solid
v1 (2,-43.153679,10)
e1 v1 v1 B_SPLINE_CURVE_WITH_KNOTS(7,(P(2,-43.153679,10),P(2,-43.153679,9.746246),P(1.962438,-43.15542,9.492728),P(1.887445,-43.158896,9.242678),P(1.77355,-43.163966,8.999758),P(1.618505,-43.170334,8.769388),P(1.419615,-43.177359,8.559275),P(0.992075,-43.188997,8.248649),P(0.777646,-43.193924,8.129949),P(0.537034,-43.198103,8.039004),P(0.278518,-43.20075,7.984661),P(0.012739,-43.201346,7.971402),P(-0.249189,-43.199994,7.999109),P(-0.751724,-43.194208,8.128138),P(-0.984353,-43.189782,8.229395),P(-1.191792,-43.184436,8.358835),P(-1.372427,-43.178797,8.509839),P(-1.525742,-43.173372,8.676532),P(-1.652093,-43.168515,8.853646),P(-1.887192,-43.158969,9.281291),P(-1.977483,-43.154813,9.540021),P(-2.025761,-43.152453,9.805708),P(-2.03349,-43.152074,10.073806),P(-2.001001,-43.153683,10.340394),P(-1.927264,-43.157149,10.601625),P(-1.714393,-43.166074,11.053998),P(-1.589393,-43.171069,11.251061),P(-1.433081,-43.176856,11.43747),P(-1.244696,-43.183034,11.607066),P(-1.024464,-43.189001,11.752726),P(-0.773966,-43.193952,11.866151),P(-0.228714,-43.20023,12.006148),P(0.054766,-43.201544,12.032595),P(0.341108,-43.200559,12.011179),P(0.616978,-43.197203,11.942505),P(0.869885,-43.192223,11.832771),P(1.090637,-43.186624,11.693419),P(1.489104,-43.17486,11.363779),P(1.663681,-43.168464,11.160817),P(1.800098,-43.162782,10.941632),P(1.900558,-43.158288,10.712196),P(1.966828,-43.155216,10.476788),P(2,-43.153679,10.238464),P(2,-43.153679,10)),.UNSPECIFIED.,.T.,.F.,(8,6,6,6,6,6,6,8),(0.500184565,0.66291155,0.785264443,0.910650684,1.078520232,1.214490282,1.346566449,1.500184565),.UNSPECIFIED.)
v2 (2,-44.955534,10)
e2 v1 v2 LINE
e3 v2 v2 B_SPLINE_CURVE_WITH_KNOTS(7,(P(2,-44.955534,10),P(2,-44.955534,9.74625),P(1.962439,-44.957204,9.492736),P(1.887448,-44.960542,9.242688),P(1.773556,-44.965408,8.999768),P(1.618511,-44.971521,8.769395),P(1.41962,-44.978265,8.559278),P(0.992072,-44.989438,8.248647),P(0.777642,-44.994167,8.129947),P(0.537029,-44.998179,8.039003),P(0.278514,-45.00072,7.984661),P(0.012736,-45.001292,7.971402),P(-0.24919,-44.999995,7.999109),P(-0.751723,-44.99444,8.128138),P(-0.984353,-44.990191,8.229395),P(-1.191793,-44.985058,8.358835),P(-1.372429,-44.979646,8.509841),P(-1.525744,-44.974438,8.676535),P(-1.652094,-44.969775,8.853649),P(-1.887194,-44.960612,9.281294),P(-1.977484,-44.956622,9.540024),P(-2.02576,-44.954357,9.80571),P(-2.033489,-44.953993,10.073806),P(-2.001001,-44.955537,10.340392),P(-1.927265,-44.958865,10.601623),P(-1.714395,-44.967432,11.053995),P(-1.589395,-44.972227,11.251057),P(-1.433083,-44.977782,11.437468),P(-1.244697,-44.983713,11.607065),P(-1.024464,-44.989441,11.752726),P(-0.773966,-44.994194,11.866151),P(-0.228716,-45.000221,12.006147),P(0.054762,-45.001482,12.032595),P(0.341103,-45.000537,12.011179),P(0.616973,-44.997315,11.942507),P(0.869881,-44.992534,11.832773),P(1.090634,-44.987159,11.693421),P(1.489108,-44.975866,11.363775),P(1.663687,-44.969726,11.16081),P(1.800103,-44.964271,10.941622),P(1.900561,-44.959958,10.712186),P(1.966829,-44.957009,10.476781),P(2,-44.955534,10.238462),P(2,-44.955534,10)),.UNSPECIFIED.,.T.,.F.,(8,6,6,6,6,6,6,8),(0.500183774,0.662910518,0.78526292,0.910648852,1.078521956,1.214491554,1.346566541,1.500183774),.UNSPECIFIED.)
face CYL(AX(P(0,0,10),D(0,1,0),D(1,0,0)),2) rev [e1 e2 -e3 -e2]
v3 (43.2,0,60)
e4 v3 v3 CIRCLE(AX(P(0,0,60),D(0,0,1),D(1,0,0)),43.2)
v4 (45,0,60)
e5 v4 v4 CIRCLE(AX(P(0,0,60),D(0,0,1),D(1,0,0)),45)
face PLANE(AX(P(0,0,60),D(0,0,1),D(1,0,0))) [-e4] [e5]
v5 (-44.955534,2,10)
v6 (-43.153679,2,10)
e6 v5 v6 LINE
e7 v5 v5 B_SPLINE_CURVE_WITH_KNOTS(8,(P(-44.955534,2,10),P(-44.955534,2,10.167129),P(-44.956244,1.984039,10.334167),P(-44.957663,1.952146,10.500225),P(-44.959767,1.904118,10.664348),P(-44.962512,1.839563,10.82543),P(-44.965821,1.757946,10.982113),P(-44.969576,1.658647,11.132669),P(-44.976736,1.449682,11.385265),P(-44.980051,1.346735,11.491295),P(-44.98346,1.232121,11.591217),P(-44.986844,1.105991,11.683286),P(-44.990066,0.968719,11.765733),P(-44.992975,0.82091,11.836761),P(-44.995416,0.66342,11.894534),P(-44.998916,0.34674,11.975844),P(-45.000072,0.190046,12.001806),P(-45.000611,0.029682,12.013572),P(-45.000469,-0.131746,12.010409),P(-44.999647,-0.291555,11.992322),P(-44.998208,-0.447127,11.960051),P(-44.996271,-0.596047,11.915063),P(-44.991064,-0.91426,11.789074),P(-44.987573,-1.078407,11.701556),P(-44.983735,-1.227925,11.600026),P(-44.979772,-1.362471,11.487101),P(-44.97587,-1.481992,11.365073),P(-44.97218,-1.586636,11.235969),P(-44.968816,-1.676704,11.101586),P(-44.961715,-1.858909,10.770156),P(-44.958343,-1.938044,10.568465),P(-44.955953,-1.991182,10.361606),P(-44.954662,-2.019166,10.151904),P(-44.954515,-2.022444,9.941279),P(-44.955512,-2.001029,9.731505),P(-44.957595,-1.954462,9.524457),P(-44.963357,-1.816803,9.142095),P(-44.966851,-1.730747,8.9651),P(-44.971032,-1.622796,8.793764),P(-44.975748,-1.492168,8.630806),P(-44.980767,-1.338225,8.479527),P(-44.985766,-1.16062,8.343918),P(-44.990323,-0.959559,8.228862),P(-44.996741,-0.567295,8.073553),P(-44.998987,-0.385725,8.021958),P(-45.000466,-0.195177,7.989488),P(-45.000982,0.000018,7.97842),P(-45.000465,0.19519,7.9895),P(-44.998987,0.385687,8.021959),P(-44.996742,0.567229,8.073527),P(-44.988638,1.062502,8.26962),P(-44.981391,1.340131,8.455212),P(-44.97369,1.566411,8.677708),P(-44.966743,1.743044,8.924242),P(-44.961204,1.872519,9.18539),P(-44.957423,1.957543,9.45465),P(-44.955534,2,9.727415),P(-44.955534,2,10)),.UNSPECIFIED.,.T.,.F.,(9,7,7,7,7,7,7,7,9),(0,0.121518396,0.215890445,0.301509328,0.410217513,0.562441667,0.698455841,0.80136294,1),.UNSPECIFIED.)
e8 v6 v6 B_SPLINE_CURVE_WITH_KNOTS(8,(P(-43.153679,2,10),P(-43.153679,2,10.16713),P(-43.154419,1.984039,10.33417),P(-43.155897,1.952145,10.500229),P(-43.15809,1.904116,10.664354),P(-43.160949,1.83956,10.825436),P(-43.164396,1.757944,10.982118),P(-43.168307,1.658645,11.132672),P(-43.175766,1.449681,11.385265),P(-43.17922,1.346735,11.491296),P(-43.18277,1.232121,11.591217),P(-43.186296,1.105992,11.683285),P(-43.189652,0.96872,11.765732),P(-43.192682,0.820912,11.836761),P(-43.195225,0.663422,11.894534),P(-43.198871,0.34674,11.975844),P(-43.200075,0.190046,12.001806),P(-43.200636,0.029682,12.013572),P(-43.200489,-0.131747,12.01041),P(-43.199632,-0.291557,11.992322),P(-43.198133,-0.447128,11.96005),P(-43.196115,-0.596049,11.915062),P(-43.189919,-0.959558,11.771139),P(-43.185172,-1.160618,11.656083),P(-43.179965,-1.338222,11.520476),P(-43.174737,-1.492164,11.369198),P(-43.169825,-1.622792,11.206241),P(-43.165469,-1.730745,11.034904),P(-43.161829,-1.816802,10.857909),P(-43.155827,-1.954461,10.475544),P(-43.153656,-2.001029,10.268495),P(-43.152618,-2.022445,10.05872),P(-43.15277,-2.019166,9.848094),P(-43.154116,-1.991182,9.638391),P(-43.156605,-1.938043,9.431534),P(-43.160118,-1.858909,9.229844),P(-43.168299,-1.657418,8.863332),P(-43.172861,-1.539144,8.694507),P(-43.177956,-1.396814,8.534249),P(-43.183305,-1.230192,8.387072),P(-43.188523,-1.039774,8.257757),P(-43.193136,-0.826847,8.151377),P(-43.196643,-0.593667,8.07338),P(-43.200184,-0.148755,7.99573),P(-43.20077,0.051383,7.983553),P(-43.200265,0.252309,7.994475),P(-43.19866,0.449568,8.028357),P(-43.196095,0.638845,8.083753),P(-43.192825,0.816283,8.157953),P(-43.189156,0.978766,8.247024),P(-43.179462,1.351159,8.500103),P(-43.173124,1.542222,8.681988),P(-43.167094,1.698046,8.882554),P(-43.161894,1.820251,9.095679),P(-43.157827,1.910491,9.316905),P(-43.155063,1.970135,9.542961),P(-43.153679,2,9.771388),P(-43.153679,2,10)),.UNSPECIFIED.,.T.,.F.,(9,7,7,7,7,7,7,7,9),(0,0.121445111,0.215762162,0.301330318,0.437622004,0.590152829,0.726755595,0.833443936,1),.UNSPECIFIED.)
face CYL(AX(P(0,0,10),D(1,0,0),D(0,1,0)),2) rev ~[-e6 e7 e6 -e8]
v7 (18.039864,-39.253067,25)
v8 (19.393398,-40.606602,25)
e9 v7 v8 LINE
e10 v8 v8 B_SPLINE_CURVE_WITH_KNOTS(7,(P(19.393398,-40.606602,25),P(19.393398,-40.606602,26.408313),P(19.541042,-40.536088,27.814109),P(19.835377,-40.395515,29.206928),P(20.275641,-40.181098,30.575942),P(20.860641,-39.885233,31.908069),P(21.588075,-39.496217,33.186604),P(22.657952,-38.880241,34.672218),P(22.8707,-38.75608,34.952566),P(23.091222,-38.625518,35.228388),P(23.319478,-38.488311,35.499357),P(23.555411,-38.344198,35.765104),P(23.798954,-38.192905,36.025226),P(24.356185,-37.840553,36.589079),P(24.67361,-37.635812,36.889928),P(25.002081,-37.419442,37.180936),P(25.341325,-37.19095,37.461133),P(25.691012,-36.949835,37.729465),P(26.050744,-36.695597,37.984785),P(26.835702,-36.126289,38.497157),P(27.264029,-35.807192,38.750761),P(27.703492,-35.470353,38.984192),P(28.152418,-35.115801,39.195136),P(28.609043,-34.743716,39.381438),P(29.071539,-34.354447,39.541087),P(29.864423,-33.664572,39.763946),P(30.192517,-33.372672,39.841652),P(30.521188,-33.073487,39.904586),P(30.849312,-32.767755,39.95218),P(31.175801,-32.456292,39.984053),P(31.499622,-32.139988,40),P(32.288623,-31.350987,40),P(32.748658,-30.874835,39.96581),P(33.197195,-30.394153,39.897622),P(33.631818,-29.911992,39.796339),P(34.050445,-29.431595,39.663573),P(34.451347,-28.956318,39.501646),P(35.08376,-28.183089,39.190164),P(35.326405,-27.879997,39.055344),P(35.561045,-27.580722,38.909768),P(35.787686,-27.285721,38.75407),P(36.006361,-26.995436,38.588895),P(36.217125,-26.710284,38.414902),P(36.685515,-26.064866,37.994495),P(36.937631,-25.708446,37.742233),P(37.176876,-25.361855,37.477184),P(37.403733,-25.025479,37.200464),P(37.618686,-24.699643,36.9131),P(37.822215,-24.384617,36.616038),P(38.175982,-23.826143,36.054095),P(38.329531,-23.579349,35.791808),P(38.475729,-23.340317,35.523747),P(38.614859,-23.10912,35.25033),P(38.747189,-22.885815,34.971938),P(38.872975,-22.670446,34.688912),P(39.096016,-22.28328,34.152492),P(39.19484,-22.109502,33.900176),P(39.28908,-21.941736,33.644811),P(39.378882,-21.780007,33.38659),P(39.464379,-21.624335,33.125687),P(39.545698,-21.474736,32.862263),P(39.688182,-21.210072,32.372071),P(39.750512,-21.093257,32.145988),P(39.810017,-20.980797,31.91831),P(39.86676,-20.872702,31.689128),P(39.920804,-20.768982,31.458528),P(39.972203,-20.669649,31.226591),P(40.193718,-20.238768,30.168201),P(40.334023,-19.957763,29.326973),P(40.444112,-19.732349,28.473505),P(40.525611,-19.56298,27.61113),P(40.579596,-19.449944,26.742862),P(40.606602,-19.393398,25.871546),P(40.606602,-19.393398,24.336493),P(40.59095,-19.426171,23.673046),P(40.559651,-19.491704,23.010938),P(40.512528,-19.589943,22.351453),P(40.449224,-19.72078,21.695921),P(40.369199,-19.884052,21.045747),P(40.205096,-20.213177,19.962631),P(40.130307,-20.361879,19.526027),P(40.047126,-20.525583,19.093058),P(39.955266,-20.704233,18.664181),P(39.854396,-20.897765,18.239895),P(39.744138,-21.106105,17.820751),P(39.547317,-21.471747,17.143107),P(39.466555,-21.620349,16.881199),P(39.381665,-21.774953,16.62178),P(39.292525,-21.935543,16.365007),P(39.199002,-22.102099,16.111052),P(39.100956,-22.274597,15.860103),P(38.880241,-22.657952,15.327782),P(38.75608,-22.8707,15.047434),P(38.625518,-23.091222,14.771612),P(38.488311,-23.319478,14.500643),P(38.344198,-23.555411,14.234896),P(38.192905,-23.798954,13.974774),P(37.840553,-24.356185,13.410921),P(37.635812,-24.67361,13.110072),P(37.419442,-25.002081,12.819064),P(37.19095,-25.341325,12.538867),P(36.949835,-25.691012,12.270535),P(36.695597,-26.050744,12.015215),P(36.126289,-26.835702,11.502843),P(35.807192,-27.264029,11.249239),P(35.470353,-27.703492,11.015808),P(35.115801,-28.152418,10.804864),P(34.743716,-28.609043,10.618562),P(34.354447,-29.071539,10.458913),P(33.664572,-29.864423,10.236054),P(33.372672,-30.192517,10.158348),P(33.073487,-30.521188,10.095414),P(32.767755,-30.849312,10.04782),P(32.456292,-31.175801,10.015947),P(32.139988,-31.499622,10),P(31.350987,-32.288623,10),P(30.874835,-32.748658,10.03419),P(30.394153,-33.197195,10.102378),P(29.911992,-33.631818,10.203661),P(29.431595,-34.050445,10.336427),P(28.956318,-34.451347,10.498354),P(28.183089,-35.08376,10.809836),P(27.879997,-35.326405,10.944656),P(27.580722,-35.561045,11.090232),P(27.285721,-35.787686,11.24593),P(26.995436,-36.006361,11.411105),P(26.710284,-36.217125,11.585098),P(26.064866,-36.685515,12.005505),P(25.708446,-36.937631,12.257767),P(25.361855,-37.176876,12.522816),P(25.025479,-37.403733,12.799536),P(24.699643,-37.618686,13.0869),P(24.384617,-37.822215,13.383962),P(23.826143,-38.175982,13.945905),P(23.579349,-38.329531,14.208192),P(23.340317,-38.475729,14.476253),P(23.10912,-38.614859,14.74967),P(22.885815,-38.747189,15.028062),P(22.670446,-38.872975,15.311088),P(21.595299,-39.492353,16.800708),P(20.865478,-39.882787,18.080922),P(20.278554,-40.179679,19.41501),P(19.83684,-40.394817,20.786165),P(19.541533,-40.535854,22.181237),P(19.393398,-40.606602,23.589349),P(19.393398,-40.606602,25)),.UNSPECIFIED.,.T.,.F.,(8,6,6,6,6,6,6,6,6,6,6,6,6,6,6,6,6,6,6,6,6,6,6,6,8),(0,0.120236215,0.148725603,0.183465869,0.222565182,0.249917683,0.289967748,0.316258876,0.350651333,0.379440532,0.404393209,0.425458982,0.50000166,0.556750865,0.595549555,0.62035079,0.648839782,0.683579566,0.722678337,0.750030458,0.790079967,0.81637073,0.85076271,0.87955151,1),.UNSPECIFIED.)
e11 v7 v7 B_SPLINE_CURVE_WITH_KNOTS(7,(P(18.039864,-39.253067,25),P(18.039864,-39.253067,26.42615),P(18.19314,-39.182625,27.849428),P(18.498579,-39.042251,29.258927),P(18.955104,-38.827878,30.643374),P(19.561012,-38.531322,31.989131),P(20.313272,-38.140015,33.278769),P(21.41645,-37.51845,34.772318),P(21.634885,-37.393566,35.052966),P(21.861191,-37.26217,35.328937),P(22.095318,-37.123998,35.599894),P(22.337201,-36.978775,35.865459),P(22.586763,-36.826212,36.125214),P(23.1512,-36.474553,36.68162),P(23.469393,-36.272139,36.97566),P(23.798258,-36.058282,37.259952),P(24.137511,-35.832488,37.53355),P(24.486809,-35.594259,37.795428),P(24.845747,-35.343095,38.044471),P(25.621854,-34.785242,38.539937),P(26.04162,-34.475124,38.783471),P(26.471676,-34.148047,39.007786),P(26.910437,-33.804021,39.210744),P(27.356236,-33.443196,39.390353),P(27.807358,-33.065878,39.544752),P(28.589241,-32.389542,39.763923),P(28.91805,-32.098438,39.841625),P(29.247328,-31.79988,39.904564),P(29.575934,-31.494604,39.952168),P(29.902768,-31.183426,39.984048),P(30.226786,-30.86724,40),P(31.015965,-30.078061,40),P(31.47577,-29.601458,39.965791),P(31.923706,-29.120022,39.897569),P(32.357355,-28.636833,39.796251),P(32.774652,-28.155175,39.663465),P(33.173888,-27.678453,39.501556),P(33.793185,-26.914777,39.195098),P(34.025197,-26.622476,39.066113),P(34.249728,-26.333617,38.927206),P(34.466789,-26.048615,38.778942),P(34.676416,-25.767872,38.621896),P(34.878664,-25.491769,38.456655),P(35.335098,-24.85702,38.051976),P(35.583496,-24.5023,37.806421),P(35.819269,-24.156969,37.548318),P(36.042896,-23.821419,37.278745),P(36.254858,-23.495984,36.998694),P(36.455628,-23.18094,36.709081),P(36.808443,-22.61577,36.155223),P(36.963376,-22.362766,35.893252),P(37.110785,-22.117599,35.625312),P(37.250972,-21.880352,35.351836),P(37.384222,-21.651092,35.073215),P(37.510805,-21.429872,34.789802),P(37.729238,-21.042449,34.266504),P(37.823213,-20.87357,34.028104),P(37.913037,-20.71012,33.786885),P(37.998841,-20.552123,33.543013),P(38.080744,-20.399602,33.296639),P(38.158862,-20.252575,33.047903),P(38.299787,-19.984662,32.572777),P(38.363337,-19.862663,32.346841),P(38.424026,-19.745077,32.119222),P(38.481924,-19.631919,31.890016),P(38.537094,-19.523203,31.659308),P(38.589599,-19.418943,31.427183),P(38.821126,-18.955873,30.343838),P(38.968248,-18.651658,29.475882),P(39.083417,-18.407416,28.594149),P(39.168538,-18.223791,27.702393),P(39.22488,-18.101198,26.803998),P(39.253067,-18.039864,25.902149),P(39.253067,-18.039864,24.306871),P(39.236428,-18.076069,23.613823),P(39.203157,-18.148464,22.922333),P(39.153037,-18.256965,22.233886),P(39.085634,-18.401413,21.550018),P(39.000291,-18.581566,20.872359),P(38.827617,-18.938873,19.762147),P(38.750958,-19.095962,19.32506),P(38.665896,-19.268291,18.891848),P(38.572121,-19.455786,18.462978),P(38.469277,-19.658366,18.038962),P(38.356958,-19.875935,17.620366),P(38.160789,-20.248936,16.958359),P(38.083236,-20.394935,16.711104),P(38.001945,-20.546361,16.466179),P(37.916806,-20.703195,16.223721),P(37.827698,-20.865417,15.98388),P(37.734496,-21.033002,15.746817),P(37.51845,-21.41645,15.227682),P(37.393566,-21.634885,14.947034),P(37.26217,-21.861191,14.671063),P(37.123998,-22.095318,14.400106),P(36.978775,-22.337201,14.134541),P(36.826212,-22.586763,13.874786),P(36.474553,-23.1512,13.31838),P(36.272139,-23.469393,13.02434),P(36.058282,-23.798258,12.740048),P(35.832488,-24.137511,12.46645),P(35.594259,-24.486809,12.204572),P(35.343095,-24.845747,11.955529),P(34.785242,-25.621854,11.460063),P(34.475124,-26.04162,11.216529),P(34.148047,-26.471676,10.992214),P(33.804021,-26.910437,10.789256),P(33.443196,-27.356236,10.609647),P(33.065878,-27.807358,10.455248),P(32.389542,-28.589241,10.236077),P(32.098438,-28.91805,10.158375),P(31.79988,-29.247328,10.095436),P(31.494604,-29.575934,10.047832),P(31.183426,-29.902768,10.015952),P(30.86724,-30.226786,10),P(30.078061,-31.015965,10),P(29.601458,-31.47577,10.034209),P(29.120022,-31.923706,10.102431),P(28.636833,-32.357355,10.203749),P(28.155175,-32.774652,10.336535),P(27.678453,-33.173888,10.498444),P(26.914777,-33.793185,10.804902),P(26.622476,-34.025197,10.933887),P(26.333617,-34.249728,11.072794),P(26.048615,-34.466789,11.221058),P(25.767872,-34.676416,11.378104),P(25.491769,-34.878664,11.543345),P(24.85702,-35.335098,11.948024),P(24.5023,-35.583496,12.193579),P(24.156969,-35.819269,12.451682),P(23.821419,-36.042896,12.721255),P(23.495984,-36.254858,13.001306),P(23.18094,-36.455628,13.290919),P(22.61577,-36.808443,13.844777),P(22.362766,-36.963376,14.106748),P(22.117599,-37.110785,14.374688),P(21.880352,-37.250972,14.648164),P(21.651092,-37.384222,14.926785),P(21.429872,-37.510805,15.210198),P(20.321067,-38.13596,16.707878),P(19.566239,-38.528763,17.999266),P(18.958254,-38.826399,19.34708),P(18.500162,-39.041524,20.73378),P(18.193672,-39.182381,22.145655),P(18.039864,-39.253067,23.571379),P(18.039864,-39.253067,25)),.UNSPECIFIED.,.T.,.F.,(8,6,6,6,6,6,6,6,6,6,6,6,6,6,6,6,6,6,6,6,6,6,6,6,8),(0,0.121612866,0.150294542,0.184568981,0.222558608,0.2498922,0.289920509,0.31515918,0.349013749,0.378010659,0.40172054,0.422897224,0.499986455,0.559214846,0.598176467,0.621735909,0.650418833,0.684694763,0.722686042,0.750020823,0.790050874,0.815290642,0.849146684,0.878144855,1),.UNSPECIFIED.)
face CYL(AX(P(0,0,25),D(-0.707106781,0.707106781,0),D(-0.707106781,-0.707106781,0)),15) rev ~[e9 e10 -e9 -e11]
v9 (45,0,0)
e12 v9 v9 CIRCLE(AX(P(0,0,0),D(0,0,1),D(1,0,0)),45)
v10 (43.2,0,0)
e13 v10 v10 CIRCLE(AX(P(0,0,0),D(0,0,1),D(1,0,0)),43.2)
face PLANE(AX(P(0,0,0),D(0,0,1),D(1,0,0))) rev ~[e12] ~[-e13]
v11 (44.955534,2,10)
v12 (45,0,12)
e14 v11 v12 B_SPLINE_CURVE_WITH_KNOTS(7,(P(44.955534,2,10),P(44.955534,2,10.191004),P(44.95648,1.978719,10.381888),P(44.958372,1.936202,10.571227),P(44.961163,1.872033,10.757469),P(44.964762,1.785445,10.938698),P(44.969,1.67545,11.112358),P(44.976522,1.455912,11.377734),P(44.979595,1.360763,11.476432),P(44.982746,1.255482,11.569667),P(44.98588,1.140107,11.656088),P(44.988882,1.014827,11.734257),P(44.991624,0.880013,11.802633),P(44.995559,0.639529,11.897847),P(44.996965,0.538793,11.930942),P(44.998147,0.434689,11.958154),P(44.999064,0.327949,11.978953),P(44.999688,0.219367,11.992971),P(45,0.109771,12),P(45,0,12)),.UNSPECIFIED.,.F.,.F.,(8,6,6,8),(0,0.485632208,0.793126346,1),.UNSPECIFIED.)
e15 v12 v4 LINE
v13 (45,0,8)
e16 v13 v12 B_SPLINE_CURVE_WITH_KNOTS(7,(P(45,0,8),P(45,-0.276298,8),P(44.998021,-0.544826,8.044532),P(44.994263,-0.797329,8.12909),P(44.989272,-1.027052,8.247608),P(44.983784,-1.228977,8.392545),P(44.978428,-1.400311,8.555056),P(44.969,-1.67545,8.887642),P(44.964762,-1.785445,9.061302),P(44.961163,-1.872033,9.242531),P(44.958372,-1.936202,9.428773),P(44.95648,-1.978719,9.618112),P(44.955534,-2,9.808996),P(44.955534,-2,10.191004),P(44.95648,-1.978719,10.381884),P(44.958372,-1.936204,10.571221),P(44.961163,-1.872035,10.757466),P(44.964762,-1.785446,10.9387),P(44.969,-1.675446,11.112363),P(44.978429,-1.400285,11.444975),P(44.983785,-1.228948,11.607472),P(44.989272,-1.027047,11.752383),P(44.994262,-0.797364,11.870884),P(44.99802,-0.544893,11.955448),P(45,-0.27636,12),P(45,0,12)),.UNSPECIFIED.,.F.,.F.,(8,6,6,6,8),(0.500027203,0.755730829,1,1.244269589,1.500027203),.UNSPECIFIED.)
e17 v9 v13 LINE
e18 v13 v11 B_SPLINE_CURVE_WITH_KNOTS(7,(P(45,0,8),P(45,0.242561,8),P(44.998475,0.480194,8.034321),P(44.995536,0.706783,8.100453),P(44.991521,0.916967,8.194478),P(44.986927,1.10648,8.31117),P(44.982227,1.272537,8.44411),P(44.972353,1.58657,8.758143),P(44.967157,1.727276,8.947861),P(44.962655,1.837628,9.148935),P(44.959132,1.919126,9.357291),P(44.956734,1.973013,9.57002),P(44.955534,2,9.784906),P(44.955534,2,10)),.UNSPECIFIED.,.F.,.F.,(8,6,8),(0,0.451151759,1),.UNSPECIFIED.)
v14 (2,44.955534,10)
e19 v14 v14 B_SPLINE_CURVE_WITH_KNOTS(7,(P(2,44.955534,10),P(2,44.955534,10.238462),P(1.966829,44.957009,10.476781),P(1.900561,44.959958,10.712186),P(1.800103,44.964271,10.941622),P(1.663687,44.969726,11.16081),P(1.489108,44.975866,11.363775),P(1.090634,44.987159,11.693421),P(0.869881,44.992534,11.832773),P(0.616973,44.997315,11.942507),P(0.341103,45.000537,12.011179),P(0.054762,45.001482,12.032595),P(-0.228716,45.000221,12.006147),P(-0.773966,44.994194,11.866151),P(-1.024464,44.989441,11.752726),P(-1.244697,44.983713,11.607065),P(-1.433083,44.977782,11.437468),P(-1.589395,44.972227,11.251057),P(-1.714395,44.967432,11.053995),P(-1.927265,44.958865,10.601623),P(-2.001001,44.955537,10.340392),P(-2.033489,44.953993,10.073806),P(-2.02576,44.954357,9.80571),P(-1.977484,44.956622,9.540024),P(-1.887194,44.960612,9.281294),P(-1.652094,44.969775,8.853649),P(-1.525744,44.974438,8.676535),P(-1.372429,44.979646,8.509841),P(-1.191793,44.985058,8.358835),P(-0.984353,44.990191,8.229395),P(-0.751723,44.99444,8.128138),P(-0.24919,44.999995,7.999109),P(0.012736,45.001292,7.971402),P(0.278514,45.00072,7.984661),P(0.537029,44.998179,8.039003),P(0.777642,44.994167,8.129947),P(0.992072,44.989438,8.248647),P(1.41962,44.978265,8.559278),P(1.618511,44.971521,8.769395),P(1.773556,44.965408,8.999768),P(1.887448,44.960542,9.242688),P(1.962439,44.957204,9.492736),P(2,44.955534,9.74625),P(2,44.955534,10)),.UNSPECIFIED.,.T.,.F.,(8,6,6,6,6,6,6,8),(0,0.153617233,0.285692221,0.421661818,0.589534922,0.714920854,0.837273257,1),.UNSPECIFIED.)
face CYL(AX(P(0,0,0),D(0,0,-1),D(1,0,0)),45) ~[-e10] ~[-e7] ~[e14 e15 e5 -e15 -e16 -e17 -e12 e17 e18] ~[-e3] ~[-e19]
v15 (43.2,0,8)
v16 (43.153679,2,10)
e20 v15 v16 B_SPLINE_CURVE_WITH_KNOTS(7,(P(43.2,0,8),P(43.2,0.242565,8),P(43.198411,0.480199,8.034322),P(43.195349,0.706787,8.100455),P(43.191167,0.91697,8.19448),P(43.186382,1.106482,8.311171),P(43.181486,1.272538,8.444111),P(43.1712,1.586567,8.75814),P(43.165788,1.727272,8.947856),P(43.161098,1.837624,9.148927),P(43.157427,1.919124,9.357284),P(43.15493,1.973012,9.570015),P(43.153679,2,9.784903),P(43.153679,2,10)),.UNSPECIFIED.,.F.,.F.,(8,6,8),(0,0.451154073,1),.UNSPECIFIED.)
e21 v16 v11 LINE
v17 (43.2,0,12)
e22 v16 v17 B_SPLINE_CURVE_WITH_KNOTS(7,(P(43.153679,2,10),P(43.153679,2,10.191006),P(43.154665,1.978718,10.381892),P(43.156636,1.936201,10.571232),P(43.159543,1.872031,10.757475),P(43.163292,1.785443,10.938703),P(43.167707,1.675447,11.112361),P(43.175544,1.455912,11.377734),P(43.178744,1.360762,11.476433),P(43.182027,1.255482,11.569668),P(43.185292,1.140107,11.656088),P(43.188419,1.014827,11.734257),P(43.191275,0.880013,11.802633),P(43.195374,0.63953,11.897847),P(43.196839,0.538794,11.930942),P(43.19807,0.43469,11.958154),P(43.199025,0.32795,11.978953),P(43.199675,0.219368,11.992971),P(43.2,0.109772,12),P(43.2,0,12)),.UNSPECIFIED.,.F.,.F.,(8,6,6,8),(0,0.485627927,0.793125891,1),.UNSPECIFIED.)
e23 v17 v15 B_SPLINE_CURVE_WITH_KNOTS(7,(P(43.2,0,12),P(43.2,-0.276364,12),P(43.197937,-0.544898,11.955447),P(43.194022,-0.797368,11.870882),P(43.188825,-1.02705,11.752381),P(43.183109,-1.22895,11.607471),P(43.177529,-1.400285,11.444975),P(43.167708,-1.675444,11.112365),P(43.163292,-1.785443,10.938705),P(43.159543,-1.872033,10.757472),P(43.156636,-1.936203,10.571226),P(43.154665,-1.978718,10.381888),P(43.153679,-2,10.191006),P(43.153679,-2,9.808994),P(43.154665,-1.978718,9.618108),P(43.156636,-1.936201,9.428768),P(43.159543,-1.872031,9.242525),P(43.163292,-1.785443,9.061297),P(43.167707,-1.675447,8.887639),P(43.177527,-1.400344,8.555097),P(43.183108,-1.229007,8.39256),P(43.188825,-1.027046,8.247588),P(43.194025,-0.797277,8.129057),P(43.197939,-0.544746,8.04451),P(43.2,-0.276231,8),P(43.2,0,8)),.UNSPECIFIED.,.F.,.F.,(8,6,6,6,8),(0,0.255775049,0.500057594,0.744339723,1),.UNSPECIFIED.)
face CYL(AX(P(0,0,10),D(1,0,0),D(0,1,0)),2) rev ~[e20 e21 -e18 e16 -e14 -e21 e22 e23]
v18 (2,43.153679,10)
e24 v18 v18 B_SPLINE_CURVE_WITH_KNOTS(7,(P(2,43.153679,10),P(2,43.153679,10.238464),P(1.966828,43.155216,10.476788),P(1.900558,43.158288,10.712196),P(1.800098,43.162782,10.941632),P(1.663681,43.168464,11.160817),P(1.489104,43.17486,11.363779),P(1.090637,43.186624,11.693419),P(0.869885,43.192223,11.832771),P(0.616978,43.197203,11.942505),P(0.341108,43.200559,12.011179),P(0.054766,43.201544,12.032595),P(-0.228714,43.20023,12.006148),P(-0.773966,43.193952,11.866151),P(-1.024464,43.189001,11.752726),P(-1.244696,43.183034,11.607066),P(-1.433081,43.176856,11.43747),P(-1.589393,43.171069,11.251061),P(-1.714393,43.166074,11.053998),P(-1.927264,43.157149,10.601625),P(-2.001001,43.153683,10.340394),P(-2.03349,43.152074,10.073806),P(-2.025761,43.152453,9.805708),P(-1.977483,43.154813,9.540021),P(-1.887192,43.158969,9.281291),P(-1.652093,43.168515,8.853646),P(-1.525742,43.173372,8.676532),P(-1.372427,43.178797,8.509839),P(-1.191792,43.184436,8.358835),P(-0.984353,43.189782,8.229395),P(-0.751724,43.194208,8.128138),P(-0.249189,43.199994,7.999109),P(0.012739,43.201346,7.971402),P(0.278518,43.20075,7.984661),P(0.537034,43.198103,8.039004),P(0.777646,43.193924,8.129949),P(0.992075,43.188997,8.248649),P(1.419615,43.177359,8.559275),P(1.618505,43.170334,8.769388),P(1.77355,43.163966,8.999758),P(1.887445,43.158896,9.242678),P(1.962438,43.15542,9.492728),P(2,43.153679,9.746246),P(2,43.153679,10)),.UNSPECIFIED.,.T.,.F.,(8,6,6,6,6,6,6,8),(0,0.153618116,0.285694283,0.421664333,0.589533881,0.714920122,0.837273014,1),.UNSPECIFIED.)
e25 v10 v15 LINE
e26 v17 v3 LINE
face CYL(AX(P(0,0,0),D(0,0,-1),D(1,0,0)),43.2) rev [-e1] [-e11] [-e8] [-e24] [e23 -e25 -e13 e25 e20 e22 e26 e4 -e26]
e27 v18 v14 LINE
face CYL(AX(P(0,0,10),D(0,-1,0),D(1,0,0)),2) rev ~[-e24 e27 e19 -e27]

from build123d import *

# Parameters (mm, degrees)
TUBE_R             = 45
TUBE_R_2           = 43.2
TUBE_DEPTH         = 60
SKETCH_R           = 2
POCKET_DEPTH       = 326.425946
POCKET_DEPTH_BACK  = 326.425946
POLARPATTERN_COUNT = 4
SKETCH003_R        = 15
POCKET001_DEPTH    = 63.64061


with BuildPart() as part:
    # Tube → Tube (new body)
    with BuildSketch(Plane.XY):
        Circle(TUBE_R)
        Circle(TUBE_R_2, mode=Mode.SUBTRACT)
    extrude(amount=TUBE_DEPTH)

    # Sketch → Pocket (cut, two sides)
    with BuildSketch(Plane.XZ) as pocket_sk:
        with Locations((0, 10)):
            Circle(SKETCH_R)
    pocket = extrude(amount=-POCKET_DEPTH, mode=Mode.SUBTRACT) + extrude(pocket_sk.sketch, amount=POCKET_DEPTH_BACK, mode=Mode.SUBTRACT)

    # PolarPattern: Pocket ×4 about axis
    polarpattern_axis = Axis((0, 0, 0), (0, 0, 1))
    for i in range(1, POLARPATTERN_COUNT):
        add(pocket.rotate(polarpattern_axis, i * 360 / POLARPATTERN_COUNT), mode=Mode.SUBTRACT)

    # Sketch003 → Pocket001 (cut, through all)
    with BuildSketch(Plane(origin=(0, 0, 0), x_dir=(-0.707107, -0.707107, 0), z_dir=(-0.707107, 0.707107, 0))):
        with Locations((0, 25)):
            Circle(SKETCH003_R)
    extrude(amount=-POCKET001_DEPTH, mode=Mode.SUBTRACT)


solid = part.part
